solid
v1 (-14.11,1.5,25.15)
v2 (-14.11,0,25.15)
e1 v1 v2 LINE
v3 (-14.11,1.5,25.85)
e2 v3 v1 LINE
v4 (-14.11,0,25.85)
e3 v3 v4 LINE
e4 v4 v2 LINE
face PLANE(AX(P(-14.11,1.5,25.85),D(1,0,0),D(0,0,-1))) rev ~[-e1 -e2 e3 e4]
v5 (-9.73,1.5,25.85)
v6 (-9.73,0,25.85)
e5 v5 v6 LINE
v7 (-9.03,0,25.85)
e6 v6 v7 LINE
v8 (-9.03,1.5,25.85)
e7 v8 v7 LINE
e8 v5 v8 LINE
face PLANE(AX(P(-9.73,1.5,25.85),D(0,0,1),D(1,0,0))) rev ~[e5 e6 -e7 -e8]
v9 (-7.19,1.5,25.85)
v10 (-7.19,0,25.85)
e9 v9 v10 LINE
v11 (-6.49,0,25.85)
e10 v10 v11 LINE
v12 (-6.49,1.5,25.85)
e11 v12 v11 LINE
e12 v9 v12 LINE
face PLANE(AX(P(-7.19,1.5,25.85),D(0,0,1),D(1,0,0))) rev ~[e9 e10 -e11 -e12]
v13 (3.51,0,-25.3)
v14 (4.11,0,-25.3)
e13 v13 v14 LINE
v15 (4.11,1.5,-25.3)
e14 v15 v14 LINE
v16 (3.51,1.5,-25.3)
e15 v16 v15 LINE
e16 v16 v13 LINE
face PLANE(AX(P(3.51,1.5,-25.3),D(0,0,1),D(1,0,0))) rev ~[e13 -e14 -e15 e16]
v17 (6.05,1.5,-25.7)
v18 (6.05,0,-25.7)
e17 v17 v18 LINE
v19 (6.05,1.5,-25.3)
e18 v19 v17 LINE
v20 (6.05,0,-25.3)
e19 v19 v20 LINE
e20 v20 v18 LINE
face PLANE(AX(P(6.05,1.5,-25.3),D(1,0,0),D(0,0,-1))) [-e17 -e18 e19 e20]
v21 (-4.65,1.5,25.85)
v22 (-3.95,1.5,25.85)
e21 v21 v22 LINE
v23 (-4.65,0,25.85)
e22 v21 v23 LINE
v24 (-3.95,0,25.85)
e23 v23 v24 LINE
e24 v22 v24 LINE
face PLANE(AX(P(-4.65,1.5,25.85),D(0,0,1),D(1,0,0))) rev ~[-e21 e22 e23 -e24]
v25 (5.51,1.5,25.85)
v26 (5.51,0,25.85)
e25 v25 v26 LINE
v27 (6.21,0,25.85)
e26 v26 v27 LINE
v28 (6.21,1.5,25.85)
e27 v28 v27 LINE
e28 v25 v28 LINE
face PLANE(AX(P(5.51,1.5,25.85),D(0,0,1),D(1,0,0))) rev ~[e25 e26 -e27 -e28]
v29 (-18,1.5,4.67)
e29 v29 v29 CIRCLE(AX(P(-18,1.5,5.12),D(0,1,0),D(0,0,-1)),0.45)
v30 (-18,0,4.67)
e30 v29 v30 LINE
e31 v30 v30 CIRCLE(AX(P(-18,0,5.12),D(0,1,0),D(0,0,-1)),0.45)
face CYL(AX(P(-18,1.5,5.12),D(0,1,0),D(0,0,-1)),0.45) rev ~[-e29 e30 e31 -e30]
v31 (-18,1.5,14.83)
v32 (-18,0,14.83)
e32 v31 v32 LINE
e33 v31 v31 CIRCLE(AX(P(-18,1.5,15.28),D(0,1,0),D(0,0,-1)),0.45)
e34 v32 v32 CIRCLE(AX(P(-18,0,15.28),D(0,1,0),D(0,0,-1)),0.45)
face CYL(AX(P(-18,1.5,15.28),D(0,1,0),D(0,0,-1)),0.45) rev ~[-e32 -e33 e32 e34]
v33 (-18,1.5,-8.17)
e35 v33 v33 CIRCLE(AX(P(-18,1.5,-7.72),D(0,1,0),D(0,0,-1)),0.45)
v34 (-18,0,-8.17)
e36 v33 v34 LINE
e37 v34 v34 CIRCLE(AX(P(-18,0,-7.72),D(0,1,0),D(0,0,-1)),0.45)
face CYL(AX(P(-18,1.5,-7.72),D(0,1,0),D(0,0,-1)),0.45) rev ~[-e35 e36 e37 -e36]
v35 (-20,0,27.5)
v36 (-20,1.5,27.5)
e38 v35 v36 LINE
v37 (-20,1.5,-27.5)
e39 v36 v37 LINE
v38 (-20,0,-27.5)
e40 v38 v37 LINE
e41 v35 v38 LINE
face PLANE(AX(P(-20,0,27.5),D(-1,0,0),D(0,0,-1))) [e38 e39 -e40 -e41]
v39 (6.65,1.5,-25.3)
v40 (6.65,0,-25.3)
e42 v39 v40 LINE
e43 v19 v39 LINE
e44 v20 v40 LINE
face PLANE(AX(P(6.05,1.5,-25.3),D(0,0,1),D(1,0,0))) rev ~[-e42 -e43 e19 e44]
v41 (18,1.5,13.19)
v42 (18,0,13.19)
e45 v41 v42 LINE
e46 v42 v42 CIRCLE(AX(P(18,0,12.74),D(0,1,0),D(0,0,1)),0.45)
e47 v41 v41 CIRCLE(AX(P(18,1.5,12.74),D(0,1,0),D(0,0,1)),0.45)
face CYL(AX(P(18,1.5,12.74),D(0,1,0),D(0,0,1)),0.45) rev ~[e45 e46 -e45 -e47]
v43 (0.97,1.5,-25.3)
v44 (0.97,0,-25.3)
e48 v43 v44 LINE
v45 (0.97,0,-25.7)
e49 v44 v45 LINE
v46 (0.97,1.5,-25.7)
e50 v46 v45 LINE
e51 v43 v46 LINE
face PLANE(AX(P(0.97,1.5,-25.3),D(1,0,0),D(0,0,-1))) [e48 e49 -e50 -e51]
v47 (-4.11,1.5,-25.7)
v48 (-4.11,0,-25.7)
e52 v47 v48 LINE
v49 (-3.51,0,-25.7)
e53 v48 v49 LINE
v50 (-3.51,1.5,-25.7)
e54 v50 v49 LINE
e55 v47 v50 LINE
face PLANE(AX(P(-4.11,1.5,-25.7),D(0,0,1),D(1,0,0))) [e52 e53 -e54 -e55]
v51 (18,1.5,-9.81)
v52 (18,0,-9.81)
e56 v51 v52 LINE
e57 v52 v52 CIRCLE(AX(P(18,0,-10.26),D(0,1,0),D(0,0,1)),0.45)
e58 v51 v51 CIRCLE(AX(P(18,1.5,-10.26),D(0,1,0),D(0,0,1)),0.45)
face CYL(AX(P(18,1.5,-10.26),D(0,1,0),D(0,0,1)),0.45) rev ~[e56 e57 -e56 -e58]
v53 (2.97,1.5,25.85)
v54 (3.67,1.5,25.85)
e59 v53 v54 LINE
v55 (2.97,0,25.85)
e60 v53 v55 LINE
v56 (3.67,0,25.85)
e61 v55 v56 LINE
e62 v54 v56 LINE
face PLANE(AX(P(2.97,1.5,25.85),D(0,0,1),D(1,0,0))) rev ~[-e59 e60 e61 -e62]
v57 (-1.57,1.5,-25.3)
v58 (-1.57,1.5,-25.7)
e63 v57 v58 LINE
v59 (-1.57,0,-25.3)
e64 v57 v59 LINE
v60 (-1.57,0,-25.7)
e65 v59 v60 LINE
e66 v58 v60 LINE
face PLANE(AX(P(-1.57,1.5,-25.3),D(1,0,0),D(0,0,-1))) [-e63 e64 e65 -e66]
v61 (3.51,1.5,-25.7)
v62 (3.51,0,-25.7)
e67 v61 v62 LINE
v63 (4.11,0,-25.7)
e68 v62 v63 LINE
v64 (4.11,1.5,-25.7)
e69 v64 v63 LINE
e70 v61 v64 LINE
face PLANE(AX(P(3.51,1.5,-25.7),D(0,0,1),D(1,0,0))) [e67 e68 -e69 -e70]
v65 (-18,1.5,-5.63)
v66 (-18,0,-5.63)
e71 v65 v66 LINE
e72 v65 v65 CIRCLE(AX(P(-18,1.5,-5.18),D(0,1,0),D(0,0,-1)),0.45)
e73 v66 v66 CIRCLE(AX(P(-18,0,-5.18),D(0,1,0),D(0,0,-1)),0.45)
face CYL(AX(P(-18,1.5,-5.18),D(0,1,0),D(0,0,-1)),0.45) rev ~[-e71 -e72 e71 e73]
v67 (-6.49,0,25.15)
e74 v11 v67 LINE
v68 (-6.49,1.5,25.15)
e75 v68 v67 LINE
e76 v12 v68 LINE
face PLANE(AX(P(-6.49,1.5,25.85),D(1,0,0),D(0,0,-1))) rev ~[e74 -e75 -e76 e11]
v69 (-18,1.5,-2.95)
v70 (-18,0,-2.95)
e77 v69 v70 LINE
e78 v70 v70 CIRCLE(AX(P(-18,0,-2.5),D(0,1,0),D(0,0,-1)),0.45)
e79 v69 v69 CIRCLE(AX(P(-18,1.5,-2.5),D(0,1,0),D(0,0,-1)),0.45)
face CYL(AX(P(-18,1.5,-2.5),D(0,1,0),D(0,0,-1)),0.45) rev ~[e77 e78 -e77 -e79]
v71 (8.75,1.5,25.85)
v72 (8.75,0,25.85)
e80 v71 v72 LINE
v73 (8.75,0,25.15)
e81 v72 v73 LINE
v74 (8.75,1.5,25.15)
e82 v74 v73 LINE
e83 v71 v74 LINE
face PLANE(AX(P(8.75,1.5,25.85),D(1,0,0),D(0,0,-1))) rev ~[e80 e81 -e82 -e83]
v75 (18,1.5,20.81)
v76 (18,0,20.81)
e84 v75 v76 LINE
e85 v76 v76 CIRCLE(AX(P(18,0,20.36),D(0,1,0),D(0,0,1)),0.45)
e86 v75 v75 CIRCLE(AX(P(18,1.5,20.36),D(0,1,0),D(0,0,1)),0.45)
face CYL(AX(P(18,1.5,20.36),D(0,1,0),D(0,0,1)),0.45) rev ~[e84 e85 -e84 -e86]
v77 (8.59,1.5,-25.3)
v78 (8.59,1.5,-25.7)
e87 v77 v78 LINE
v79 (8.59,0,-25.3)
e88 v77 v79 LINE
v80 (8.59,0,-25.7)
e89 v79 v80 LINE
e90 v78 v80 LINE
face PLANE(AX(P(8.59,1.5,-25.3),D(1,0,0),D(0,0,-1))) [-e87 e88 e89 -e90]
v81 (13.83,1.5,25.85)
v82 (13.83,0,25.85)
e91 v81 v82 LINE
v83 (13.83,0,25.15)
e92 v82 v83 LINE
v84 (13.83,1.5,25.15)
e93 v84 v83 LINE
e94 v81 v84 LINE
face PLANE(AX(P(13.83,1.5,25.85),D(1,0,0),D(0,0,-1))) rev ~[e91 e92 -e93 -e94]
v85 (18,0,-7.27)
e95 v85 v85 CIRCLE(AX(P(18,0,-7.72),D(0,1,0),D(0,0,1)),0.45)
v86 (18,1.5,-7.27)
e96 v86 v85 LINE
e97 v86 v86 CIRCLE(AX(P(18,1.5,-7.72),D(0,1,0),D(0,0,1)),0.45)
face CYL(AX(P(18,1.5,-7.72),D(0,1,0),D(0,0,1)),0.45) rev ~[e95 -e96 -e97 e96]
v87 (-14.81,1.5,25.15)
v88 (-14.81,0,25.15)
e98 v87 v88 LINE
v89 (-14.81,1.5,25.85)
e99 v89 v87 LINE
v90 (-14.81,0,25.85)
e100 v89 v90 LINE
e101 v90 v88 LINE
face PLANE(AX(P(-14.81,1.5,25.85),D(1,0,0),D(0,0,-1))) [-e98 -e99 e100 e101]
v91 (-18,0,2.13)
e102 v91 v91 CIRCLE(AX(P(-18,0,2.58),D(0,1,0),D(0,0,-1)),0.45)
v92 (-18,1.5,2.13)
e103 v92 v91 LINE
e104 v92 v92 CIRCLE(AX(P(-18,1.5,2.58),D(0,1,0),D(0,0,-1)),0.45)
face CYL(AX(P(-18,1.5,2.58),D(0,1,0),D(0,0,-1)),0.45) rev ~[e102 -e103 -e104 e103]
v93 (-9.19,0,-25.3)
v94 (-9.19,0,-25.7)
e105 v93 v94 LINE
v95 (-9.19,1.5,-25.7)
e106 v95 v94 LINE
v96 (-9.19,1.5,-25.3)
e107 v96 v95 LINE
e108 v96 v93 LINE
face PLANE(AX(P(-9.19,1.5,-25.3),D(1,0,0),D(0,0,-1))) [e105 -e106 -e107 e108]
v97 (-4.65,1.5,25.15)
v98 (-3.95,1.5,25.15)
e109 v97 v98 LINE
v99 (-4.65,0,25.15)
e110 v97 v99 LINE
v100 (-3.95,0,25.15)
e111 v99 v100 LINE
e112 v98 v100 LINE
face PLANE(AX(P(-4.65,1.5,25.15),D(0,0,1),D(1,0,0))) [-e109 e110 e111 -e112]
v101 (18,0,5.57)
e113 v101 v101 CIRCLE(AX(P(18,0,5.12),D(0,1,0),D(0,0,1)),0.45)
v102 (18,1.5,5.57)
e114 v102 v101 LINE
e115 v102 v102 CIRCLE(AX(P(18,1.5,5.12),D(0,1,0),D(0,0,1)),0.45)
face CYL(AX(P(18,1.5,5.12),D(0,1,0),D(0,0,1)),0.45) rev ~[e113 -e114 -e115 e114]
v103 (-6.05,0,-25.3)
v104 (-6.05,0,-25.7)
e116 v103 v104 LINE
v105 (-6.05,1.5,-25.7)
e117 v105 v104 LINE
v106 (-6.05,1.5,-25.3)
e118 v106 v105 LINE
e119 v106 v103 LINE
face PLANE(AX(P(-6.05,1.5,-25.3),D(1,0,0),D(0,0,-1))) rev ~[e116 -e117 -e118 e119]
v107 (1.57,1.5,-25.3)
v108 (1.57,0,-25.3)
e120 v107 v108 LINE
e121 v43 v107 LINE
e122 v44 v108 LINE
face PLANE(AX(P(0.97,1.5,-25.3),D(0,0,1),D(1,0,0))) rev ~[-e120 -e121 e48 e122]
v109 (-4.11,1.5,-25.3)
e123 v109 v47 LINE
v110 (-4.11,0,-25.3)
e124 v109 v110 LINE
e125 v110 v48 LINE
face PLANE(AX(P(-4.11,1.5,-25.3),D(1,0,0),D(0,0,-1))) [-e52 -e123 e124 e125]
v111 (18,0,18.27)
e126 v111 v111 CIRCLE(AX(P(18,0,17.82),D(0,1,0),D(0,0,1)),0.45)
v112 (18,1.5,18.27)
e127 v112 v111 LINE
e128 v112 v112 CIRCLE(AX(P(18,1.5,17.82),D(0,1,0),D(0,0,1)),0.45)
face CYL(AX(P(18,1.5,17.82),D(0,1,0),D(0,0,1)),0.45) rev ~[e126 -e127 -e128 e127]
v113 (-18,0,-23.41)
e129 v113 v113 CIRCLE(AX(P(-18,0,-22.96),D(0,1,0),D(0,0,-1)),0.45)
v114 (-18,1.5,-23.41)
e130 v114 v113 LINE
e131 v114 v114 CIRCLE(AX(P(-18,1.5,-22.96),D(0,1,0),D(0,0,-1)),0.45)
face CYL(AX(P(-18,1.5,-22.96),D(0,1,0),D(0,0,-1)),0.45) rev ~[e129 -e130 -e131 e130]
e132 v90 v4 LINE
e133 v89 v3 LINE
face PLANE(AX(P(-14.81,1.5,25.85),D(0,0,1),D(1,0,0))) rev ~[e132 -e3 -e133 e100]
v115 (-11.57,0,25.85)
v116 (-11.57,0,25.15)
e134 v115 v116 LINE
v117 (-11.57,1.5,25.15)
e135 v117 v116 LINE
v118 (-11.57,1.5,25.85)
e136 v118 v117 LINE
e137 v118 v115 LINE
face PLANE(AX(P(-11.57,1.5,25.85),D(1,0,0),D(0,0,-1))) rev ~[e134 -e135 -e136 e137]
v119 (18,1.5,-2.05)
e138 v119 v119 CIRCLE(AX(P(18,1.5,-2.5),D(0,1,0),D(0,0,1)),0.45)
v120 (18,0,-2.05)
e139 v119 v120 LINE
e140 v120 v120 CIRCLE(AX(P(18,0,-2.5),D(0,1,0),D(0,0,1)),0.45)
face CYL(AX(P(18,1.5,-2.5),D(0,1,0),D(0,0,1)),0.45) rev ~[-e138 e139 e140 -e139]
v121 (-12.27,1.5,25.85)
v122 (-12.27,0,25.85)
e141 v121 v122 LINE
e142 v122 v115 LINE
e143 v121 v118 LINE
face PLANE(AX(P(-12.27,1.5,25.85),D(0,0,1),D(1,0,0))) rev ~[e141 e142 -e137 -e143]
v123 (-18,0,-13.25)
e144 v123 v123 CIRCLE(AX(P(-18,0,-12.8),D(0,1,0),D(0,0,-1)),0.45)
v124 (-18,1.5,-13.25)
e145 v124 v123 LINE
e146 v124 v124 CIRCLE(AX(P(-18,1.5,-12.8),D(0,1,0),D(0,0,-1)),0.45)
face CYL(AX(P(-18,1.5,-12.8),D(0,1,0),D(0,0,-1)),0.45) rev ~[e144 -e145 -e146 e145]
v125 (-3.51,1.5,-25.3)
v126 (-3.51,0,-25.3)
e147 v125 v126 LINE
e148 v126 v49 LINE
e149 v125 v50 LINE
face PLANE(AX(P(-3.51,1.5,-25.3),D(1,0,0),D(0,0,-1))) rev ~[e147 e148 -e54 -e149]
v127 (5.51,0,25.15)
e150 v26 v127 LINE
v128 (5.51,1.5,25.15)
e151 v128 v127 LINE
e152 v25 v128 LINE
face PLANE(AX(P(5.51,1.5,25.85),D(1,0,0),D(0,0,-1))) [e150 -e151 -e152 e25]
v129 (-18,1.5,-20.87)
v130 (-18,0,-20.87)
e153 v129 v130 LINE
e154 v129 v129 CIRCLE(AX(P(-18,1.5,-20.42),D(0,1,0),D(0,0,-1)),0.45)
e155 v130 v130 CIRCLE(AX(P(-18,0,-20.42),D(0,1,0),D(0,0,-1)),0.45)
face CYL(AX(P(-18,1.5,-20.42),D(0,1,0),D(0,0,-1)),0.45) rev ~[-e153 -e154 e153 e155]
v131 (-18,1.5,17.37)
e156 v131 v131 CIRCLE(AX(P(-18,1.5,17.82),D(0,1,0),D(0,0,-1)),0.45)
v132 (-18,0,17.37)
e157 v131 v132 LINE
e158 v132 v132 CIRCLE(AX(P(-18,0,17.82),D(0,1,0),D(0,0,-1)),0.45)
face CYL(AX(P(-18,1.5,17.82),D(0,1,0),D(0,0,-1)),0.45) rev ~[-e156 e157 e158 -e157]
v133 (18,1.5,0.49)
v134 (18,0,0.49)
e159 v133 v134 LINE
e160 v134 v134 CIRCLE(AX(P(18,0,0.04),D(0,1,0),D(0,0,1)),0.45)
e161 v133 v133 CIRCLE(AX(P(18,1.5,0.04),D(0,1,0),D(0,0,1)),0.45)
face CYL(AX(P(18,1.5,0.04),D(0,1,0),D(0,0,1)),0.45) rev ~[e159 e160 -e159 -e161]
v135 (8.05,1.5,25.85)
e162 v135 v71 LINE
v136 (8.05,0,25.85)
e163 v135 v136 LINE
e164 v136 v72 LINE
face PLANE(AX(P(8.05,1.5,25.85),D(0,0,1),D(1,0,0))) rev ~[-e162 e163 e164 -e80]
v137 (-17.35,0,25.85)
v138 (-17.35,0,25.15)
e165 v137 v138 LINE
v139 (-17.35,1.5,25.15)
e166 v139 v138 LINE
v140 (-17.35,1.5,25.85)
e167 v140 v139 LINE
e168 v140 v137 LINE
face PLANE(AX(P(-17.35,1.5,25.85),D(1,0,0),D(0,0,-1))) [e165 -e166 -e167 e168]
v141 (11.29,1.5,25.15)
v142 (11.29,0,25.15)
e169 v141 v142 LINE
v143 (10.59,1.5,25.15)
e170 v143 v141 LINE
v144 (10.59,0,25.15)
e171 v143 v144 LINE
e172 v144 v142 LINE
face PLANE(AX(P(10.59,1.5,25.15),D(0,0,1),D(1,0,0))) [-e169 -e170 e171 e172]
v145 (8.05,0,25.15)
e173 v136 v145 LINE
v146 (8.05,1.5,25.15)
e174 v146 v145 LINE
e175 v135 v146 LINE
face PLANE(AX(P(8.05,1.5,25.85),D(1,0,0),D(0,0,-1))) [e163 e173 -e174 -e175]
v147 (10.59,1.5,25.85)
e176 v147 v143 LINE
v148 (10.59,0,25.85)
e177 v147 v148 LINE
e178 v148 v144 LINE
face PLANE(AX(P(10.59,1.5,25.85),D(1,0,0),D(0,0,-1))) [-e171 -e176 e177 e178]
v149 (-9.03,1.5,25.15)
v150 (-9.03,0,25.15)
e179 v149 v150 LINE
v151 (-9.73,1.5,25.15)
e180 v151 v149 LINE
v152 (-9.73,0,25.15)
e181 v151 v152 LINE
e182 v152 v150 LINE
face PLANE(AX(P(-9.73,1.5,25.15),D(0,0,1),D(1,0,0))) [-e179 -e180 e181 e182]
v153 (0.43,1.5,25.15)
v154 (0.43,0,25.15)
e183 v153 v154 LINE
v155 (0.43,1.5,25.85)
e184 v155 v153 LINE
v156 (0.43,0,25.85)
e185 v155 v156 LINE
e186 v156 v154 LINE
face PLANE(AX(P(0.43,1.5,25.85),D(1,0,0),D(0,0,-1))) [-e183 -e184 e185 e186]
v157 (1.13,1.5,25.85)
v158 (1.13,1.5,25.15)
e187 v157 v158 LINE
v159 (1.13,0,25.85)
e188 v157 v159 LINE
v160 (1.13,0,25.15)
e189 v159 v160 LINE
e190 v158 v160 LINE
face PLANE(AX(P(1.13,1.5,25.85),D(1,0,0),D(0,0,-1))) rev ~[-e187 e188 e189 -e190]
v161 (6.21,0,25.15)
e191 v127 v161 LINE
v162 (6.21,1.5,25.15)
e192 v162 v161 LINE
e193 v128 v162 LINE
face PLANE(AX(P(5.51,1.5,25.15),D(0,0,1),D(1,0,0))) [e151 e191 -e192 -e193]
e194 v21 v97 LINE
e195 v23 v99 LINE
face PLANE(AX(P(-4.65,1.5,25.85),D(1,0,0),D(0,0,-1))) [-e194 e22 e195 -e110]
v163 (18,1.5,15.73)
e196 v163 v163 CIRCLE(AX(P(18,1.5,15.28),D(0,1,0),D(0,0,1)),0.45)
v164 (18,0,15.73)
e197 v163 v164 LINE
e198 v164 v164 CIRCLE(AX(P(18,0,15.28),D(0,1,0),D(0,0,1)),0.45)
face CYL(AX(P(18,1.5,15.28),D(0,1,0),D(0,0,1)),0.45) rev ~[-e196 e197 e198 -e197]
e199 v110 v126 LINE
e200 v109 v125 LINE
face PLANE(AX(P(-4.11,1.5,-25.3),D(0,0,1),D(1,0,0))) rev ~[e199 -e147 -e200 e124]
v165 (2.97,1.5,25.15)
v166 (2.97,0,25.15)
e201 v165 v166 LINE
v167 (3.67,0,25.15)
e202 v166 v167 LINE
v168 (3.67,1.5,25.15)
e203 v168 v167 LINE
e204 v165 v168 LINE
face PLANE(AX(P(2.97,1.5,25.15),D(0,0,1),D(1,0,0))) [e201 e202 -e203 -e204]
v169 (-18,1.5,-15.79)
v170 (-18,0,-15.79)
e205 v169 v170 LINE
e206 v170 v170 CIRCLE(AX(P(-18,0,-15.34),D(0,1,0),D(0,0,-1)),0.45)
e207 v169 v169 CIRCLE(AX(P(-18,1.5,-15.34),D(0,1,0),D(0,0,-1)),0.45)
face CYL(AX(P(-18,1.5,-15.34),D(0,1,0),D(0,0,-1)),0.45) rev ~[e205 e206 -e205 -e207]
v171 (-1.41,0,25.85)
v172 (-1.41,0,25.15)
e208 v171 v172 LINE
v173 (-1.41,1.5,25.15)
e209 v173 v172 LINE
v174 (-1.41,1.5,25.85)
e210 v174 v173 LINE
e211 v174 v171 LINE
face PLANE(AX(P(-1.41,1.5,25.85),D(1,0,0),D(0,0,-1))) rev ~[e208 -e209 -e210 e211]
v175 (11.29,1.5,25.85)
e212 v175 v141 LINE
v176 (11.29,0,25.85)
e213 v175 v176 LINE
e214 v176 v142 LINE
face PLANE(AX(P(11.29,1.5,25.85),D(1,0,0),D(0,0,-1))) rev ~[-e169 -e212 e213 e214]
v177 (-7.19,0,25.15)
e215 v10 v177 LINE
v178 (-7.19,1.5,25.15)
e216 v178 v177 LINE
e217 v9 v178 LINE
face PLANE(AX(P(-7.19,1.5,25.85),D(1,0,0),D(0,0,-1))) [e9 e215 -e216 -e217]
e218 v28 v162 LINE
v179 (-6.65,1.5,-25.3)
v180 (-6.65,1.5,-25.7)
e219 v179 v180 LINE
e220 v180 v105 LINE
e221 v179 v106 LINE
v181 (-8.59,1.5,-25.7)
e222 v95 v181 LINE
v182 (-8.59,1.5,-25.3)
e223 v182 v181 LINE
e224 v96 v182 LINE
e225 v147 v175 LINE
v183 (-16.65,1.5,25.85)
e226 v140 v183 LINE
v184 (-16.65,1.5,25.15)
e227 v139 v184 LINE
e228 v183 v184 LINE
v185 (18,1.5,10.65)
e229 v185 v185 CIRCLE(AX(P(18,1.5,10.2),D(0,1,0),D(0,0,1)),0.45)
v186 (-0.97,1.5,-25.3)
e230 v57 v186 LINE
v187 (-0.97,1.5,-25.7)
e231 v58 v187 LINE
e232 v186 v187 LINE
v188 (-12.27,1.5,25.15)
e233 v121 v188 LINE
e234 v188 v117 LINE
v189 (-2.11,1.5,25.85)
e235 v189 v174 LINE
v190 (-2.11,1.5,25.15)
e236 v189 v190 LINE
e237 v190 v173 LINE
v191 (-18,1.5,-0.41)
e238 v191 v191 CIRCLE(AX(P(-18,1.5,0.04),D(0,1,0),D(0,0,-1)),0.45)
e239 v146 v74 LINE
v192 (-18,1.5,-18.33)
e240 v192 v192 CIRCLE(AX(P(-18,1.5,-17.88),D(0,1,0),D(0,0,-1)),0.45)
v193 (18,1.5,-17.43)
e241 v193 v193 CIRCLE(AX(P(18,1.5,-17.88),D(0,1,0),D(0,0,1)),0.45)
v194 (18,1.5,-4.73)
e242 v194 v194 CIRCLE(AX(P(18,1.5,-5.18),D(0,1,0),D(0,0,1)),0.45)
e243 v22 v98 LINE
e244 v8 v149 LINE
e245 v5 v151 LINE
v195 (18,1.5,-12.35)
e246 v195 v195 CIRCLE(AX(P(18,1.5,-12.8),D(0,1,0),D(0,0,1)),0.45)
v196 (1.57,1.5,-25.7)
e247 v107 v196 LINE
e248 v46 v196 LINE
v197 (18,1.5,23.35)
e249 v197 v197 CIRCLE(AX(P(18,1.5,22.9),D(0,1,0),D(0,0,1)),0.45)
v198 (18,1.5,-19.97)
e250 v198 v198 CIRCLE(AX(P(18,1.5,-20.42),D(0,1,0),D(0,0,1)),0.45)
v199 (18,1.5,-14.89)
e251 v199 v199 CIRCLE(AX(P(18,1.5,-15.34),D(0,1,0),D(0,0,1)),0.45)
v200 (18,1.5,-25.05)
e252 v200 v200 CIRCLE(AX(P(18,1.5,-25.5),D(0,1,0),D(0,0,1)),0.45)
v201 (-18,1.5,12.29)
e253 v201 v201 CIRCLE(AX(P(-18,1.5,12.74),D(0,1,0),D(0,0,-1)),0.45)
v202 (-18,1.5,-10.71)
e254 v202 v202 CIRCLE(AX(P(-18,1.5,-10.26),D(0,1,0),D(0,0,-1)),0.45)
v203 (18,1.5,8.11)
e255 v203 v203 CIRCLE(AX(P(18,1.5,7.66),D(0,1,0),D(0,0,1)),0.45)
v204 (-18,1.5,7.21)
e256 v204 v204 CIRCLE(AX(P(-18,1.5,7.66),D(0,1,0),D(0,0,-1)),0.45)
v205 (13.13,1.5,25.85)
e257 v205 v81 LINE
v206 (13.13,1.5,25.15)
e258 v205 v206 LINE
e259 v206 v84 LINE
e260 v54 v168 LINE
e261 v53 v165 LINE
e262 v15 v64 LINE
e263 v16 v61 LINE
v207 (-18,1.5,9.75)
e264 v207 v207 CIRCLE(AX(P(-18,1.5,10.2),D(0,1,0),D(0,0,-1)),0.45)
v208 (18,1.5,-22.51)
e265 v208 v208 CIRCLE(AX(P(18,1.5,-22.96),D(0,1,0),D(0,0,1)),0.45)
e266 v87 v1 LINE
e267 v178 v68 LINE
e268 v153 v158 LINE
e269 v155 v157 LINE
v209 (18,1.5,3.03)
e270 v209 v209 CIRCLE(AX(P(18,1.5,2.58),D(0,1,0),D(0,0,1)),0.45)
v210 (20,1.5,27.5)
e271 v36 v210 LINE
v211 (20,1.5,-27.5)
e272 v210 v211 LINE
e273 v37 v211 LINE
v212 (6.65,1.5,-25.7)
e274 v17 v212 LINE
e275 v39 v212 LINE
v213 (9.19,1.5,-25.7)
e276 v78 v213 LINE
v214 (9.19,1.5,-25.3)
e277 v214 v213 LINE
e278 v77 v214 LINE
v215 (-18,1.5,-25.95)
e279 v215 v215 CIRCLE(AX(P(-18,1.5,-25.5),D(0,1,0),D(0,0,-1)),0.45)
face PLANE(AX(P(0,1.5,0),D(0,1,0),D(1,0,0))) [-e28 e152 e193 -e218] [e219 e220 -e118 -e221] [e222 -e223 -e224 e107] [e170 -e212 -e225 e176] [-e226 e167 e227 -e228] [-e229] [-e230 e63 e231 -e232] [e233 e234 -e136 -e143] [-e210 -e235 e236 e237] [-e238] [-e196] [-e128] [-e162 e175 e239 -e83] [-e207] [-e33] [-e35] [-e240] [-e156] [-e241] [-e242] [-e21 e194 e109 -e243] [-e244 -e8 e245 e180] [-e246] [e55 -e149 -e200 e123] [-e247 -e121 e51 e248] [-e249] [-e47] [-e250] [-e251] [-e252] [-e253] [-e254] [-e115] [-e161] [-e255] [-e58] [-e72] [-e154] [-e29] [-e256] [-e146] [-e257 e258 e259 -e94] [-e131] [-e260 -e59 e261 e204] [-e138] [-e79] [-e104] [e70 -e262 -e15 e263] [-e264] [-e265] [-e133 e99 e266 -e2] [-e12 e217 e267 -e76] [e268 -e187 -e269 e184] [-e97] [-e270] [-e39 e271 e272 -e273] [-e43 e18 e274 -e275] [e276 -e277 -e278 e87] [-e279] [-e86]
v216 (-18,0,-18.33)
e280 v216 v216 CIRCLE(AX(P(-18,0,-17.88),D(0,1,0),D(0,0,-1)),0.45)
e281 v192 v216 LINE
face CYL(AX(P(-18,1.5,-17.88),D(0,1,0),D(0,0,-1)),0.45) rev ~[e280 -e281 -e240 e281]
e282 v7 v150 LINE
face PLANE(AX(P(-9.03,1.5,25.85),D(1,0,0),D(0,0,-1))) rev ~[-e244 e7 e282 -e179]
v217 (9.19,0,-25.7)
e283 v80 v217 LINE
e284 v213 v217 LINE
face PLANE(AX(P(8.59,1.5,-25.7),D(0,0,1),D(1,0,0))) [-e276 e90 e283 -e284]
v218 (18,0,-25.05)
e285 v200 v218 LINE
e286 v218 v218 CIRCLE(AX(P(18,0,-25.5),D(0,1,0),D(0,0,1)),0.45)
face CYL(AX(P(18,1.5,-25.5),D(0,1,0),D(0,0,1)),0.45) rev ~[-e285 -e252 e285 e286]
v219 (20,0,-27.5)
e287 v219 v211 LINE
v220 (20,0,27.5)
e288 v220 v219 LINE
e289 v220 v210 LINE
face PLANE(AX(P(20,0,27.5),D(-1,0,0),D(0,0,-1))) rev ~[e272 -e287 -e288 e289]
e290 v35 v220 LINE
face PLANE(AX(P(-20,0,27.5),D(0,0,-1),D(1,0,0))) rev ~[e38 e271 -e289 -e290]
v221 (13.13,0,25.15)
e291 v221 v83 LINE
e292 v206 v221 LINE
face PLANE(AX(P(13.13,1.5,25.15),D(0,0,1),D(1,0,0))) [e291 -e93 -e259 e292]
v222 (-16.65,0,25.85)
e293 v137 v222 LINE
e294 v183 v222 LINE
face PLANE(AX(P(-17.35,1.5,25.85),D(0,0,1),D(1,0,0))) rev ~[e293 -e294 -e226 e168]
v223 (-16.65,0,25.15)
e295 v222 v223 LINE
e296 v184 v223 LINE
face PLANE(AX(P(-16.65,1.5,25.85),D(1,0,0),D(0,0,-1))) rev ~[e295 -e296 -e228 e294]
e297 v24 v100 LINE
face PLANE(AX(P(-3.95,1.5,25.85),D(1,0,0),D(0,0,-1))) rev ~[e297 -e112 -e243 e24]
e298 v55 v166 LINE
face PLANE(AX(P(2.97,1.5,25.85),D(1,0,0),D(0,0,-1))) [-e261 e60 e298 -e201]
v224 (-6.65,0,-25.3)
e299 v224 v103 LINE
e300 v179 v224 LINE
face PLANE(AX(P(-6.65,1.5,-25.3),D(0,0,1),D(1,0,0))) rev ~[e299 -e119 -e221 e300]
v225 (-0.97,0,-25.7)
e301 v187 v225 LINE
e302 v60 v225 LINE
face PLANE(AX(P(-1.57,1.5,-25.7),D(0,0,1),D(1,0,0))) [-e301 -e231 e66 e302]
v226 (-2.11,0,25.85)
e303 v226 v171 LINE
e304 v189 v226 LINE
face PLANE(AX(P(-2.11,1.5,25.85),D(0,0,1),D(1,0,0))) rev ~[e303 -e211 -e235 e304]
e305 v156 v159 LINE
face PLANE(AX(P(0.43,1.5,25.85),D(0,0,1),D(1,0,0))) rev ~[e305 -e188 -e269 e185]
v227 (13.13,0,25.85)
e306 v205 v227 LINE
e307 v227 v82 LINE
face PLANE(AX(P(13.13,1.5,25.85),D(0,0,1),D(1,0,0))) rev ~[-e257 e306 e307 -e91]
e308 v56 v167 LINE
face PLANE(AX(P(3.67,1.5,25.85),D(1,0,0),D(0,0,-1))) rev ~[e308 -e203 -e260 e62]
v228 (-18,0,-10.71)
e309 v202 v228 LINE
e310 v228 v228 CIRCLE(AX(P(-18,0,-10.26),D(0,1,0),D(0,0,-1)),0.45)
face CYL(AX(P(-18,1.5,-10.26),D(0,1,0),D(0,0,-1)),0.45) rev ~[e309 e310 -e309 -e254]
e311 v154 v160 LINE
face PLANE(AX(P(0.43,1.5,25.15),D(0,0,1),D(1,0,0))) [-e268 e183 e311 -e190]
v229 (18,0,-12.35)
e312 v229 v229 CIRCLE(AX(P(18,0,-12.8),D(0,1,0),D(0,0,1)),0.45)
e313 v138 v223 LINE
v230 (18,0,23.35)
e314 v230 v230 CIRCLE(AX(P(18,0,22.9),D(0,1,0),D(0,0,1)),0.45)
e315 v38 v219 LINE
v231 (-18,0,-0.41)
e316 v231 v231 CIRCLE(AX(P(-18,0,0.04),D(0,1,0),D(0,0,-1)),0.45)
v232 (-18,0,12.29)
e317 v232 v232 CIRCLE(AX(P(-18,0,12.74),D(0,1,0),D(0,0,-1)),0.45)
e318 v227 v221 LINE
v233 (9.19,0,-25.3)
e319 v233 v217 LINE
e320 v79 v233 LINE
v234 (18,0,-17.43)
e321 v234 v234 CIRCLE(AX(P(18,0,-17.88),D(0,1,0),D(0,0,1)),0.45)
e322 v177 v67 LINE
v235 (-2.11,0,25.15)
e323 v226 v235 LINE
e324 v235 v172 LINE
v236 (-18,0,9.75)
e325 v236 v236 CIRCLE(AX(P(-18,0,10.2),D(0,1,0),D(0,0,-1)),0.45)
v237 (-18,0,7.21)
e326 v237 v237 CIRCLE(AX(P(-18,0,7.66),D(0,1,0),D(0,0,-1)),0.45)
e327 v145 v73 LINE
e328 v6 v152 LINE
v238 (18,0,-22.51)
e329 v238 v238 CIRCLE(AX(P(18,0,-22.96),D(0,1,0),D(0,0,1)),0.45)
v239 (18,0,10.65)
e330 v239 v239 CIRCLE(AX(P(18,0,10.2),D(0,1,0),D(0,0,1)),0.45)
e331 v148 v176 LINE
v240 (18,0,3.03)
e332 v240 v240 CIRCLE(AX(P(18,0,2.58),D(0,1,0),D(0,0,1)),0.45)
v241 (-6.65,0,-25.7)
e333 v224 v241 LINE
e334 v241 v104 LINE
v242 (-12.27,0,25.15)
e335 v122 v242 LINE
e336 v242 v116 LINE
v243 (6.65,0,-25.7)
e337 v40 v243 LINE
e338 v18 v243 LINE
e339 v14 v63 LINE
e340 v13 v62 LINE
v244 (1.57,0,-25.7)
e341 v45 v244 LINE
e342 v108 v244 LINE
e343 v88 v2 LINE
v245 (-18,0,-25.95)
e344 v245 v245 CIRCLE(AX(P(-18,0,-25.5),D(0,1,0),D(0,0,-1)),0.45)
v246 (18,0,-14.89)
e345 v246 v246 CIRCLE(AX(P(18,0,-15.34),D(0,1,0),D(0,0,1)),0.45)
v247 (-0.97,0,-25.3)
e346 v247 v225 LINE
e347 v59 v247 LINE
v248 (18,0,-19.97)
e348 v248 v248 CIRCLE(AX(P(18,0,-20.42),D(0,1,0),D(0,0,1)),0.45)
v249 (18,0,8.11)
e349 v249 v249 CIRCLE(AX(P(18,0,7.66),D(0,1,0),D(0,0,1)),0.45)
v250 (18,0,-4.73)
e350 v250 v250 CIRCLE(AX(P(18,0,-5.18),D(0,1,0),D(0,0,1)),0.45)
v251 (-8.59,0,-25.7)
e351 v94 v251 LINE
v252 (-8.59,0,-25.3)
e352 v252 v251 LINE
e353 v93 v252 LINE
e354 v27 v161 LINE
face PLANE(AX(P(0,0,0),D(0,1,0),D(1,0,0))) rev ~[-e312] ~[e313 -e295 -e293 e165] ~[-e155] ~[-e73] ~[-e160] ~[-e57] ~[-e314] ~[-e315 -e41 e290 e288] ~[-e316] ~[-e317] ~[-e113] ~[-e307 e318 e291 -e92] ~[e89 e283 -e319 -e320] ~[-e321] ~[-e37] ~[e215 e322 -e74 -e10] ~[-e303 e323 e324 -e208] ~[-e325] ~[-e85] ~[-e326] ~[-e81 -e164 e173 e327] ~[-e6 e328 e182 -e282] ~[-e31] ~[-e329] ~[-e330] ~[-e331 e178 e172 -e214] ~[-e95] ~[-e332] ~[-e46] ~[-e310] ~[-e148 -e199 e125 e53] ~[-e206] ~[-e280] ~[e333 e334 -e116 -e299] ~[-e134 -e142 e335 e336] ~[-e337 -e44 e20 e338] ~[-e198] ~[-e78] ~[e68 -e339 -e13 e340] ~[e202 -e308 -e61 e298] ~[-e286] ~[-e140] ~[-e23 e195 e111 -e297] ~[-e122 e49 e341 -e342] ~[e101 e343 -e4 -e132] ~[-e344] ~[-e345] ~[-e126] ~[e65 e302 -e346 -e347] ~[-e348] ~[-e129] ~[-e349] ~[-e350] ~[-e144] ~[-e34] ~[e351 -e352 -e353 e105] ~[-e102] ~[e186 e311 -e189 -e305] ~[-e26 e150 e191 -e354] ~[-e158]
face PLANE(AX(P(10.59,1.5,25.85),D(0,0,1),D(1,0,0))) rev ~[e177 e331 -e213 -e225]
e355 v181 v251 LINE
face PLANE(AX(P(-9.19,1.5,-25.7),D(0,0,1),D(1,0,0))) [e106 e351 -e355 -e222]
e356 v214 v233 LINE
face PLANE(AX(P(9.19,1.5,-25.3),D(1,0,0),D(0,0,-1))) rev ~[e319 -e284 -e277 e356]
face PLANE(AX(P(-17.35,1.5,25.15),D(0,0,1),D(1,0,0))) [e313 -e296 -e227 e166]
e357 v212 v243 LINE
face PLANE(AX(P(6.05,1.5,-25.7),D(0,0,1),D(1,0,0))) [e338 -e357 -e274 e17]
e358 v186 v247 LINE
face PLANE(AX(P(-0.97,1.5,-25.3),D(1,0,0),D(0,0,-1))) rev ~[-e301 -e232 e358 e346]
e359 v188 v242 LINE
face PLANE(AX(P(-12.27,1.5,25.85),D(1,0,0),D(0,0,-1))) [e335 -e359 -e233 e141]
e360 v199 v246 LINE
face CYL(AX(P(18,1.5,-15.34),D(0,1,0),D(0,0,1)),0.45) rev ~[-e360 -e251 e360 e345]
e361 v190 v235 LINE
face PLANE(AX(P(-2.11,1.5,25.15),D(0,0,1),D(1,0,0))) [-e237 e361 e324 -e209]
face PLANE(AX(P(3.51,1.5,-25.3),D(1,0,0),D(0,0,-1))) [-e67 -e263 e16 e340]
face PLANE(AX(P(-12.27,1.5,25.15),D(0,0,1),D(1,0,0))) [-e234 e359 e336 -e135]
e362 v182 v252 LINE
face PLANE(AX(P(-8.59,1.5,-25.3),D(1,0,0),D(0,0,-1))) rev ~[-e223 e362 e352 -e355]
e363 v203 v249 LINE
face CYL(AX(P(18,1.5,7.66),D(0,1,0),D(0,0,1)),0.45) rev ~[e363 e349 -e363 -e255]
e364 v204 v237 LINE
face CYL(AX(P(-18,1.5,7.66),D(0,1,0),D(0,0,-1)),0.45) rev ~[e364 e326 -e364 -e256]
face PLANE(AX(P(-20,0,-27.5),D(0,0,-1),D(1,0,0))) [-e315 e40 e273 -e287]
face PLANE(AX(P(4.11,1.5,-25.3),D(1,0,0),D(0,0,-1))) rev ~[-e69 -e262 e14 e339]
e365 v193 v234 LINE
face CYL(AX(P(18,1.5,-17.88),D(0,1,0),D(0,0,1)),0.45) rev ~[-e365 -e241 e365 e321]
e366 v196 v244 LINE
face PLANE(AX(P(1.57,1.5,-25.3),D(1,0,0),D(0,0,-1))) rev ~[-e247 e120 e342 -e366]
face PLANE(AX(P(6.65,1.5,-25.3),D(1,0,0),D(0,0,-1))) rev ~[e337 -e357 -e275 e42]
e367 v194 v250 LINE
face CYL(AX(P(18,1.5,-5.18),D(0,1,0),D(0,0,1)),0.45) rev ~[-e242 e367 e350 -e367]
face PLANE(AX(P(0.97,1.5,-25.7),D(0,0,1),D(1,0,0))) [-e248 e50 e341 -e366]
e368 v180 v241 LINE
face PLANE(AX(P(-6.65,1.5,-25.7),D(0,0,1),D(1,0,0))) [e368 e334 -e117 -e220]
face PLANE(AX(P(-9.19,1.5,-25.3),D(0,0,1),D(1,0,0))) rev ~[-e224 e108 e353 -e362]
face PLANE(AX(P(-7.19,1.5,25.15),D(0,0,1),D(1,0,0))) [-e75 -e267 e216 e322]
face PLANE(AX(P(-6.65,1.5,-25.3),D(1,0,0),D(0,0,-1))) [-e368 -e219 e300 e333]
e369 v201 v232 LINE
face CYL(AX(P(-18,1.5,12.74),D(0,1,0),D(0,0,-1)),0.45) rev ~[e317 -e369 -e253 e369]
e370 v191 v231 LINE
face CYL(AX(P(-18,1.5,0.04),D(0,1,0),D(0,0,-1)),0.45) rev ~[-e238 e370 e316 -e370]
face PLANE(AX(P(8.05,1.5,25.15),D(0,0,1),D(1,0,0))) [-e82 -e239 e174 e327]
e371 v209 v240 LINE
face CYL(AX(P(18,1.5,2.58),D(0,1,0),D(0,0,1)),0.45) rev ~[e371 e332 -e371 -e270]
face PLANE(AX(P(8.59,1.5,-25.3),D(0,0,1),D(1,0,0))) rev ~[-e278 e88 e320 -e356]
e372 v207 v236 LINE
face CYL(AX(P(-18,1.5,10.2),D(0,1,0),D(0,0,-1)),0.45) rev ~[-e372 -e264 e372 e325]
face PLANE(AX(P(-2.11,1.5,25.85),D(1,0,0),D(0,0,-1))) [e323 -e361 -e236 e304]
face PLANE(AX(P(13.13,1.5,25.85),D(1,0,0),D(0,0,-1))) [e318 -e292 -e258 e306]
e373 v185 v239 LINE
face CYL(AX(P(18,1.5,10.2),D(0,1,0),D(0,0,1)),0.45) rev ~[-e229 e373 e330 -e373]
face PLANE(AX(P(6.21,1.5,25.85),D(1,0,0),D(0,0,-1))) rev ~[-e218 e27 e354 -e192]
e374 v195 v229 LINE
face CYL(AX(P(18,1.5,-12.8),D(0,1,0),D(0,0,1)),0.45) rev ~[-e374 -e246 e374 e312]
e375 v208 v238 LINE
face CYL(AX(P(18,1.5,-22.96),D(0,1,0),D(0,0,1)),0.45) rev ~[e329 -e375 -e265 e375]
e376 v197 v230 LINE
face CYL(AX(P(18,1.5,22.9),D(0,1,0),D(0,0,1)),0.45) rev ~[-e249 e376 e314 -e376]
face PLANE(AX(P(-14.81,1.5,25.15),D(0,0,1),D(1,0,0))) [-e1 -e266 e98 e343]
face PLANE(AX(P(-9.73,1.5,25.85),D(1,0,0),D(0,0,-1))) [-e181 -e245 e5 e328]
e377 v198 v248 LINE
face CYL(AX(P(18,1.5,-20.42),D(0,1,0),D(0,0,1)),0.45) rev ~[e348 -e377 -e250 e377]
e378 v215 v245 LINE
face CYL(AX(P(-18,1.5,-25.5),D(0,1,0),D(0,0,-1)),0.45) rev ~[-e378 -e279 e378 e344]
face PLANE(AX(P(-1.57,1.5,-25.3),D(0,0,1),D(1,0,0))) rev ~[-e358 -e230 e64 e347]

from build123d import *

# Parameters (mm, degrees)
SKETCH_1_W          = 40
SKETCH_1_H          = 55
EXTRUDE_1_DEPTH     = 1.5
SKETCH_2_R          = 0.45
SKETCH_2_W          = 0.7
SKETCH_2_H          = 0.7
SKETCH_2_W_2        = 0.6
SKETCH_2_H_2        = 0.4
CUT_EXTRUDE_1_DEPTH = 35.03674485


with BuildPart() as part:
    # Эскиз1 → Бобышка-Вытянуть1 (new body)
    with BuildSketch(Plane(origin=(0, 0, 0), x_dir=(1, 0, 0), z_dir=(0, 1, 0))):
        Rectangle(SKETCH_1_W, SKETCH_1_H)
    extrude(amount=EXTRUDE_1_DEPTH)

    # Эскиз2 → Вырез-Вытянуть1 (cut, through all)
    with BuildSketch(Plane(origin=(0, 1.5, 0), x_dir=(1, 0, 0), z_dir=(0, 1, 0))):
        with Locations(Location((18, -22.9, 0), (0, 0, 270))):
            Circle(SKETCH_2_R)
        with Locations(Location((18, -20.36, 0), (0, 0, 270))):
            Circle(SKETCH_2_R)
        with Locations(Location((18, -17.82, 0), (0, 0, 270))):
            Circle(SKETCH_2_R)
        with Locations(Location((18, -15.28, 0), (0, 0, 270))):
            Circle(SKETCH_2_R)
        with Locations(Location((18, -12.74, 0), (0, 0, 270))):
            Circle(SKETCH_2_R)
        with Locations(Location((18, -10.2, 0), (0, 0, 270))):
            Circle(SKETCH_2_R)
        with Locations(Location((18, -7.66, 0), (0, 0, 270))):
            Circle(SKETCH_2_R)
        with Locations(Location((18, -5.12, 0), (0, 0, 270))):
            Circle(SKETCH_2_R)
        with Locations(Location((18, -2.58, 0), (0, 0, 270))):
            Circle(SKETCH_2_R)
        with Locations(Location((18, -0.04, 0), (0, 0, 270))):
            Circle(SKETCH_2_R)
        with Locations(Location((18, 2.5, 0), (0, 0, 270))):
            Circle(SKETCH_2_R)
        with Locations(Location((-18, 2.5, 0), (0, 0, 90))):
            Circle(SKETCH_2_R)
        with Locations(Location((-18, -0.04, 0), (0, 0, 90))):
            Circle(SKETCH_2_R)
        with Locations(Location((-18, -2.58, 0), (0, 0, 90))):
            Circle(SKETCH_2_R)
        with Locations(Location((-18, -5.12, 0), (0, 0, 90))):
            Circle(SKETCH_2_R)
        with Locations(Location((-18, -7.66, 0), (0, 0, 90))):
            Circle(SKETCH_2_R)
        with Locations(Location((-18, -10.2, 0), (0, 0, 90))):
            Circle(SKETCH_2_R)
        with Locations(Location((-18, -12.74, 0), (0, 0, 90))):
            Circle(SKETCH_2_R)
        with Locations(Location((-18, -15.28, 0), (0, 0, 90))):
            Circle(SKETCH_2_R)
        with Locations(Location((-18, -17.82, 0), (0, 0, 90))):
            Circle(SKETCH_2_R)
        with Locations(Location((18, 5.18, 0), (0, 0, 270))):
            Circle(SKETCH_2_R)
        with Locations(Location((18, 7.72, 0), (0, 0, 270))):
            Circle(SKETCH_2_R)
        with Locations(Location((18, 10.26, 0), (0, 0, 270))):
            Circle(SKETCH_2_R)
        with Locations(Location((18, 12.8, 0), (0, 0, 270))):
            Circle(SKETCH_2_R)
        with Locations(Location((18, 15.34, 0), (0, 0, 270))):
            Circle(SKETCH_2_R)
        with Locations(Location((18, 17.88, 0), (0, 0, 270))):
            Circle(SKETCH_2_R)
        with Locations(Location((18, 20.42, 0), (0, 0, 270))):
            Circle(SKETCH_2_R)
        with Locations(Location((18, 22.96, 0), (0, 0, 270))):
            Circle(SKETCH_2_R)
        with Locations(Location((18, 25.5, 0), (0, 0, 270))):
            Circle(SKETCH_2_R)
        with Locations(Location((-18, 25.5, 0), (0, 0, 90))):
            Circle(SKETCH_2_R)
        with Locations(Location((-18, 22.96, 0), (0, 0, 90))):
            Circle(SKETCH_2_R)
        with Locations(Location((-18, 20.42, 0), (0, 0, 90))):
            Circle(SKETCH_2_R)
        with Locations(Location((-18, 17.88, 0), (0, 0, 90))):
            Circle(SKETCH_2_R)
        with Locations(Location((-18, 15.34, 0), (0, 0, 90))):
            Circle(SKETCH_2_R)
        with Locations(Location((-18, 12.8, 0), (0, 0, 90))):
            Circle(SKETCH_2_R)
        with Locations(Location((-18, 10.26, 0), (0, 0, 90))):
            Circle(SKETCH_2_R)
        with Locations(Location((-18, 7.72, 0), (0, 0, 90))):
            Circle(SKETCH_2_R)
        with Locations(Location((-18, 5.18, 0), (0, 0, 90))):
            Circle(SKETCH_2_R)
        with Locations((-14.46, -25.5)):
            Rectangle(SKETCH_2_W, SKETCH_2_H)
        with Locations((-17, -25.5)):
            Rectangle(SKETCH_2_W, SKETCH_2_H)
        with Locations((-11.92, -25.5)):
            Rectangle(SKETCH_2_W, SKETCH_2_H)
        with Locations((-9.38, -25.5)):
            Rectangle(SKETCH_2_W, SKETCH_2_H)
        with Locations((-6.84, -25.5)):
            Rectangle(SKETCH_2_W, SKETCH_2_H)
        with Locations((-4.3, -25.5)):
            Rectangle(SKETCH_2_W, SKETCH_2_H)
        with Locations((-1.76, -25.5)):
            Rectangle(SKETCH_2_W, SKETCH_2_H)
        with Locations((0.78, -25.5)):
            Rectangle(SKETCH_2_W, SKETCH_2_H)
        with Locations((3.32, -25.5)):
            Rectangle(SKETCH_2_W, SKETCH_2_H)
        with Locations((5.86, -25.5)):
            Rectangle(SKETCH_2_W, SKETCH_2_H)
        with Locations((8.4, -25.5)):
            Rectangle(SKETCH_2_W, SKETCH_2_H)
        with Locations((10.94, -25.5)):
            Rectangle(SKETCH_2_W, SKETCH_2_H)
        with Locations((13.48, -25.5)):
            Rectangle(SKETCH_2_W, SKETCH_2_H)
        with Locations((6.35, 25.5)):
            Rectangle(SKETCH_2_W_2, SKETCH_2_H_2)
        with Locations((8.89, 25.5)):
            Rectangle(SKETCH_2_W_2, SKETCH_2_H_2)
        with Locations((3.81, 25.5)):
            Rectangle(SKETCH_2_W_2, SKETCH_2_H_2)
        with Locations((1.27, 25.5)):
            Rectangle(SKETCH_2_W_2, SKETCH_2_H_2)
        with Locations((-1.27, 25.5)):
            Rectangle(SKETCH_2_W_2, SKETCH_2_H_2)
        with Locations((-3.81, 25.5)):
            Rectangle(SKETCH_2_W_2, SKETCH_2_H_2)
        with Locations((-6.35, 25.5)):
            Rectangle(SKETCH_2_W_2, SKETCH_2_H_2)
        with Locations((-8.89, 25.5)):
            Rectangle(SKETCH_2_W_2, SKETCH_2_H_2)
    extrude(amount=-CUT_EXTRUDE_1_DEPTH, mode=Mode.SUBTRACT)


solid = part.part
